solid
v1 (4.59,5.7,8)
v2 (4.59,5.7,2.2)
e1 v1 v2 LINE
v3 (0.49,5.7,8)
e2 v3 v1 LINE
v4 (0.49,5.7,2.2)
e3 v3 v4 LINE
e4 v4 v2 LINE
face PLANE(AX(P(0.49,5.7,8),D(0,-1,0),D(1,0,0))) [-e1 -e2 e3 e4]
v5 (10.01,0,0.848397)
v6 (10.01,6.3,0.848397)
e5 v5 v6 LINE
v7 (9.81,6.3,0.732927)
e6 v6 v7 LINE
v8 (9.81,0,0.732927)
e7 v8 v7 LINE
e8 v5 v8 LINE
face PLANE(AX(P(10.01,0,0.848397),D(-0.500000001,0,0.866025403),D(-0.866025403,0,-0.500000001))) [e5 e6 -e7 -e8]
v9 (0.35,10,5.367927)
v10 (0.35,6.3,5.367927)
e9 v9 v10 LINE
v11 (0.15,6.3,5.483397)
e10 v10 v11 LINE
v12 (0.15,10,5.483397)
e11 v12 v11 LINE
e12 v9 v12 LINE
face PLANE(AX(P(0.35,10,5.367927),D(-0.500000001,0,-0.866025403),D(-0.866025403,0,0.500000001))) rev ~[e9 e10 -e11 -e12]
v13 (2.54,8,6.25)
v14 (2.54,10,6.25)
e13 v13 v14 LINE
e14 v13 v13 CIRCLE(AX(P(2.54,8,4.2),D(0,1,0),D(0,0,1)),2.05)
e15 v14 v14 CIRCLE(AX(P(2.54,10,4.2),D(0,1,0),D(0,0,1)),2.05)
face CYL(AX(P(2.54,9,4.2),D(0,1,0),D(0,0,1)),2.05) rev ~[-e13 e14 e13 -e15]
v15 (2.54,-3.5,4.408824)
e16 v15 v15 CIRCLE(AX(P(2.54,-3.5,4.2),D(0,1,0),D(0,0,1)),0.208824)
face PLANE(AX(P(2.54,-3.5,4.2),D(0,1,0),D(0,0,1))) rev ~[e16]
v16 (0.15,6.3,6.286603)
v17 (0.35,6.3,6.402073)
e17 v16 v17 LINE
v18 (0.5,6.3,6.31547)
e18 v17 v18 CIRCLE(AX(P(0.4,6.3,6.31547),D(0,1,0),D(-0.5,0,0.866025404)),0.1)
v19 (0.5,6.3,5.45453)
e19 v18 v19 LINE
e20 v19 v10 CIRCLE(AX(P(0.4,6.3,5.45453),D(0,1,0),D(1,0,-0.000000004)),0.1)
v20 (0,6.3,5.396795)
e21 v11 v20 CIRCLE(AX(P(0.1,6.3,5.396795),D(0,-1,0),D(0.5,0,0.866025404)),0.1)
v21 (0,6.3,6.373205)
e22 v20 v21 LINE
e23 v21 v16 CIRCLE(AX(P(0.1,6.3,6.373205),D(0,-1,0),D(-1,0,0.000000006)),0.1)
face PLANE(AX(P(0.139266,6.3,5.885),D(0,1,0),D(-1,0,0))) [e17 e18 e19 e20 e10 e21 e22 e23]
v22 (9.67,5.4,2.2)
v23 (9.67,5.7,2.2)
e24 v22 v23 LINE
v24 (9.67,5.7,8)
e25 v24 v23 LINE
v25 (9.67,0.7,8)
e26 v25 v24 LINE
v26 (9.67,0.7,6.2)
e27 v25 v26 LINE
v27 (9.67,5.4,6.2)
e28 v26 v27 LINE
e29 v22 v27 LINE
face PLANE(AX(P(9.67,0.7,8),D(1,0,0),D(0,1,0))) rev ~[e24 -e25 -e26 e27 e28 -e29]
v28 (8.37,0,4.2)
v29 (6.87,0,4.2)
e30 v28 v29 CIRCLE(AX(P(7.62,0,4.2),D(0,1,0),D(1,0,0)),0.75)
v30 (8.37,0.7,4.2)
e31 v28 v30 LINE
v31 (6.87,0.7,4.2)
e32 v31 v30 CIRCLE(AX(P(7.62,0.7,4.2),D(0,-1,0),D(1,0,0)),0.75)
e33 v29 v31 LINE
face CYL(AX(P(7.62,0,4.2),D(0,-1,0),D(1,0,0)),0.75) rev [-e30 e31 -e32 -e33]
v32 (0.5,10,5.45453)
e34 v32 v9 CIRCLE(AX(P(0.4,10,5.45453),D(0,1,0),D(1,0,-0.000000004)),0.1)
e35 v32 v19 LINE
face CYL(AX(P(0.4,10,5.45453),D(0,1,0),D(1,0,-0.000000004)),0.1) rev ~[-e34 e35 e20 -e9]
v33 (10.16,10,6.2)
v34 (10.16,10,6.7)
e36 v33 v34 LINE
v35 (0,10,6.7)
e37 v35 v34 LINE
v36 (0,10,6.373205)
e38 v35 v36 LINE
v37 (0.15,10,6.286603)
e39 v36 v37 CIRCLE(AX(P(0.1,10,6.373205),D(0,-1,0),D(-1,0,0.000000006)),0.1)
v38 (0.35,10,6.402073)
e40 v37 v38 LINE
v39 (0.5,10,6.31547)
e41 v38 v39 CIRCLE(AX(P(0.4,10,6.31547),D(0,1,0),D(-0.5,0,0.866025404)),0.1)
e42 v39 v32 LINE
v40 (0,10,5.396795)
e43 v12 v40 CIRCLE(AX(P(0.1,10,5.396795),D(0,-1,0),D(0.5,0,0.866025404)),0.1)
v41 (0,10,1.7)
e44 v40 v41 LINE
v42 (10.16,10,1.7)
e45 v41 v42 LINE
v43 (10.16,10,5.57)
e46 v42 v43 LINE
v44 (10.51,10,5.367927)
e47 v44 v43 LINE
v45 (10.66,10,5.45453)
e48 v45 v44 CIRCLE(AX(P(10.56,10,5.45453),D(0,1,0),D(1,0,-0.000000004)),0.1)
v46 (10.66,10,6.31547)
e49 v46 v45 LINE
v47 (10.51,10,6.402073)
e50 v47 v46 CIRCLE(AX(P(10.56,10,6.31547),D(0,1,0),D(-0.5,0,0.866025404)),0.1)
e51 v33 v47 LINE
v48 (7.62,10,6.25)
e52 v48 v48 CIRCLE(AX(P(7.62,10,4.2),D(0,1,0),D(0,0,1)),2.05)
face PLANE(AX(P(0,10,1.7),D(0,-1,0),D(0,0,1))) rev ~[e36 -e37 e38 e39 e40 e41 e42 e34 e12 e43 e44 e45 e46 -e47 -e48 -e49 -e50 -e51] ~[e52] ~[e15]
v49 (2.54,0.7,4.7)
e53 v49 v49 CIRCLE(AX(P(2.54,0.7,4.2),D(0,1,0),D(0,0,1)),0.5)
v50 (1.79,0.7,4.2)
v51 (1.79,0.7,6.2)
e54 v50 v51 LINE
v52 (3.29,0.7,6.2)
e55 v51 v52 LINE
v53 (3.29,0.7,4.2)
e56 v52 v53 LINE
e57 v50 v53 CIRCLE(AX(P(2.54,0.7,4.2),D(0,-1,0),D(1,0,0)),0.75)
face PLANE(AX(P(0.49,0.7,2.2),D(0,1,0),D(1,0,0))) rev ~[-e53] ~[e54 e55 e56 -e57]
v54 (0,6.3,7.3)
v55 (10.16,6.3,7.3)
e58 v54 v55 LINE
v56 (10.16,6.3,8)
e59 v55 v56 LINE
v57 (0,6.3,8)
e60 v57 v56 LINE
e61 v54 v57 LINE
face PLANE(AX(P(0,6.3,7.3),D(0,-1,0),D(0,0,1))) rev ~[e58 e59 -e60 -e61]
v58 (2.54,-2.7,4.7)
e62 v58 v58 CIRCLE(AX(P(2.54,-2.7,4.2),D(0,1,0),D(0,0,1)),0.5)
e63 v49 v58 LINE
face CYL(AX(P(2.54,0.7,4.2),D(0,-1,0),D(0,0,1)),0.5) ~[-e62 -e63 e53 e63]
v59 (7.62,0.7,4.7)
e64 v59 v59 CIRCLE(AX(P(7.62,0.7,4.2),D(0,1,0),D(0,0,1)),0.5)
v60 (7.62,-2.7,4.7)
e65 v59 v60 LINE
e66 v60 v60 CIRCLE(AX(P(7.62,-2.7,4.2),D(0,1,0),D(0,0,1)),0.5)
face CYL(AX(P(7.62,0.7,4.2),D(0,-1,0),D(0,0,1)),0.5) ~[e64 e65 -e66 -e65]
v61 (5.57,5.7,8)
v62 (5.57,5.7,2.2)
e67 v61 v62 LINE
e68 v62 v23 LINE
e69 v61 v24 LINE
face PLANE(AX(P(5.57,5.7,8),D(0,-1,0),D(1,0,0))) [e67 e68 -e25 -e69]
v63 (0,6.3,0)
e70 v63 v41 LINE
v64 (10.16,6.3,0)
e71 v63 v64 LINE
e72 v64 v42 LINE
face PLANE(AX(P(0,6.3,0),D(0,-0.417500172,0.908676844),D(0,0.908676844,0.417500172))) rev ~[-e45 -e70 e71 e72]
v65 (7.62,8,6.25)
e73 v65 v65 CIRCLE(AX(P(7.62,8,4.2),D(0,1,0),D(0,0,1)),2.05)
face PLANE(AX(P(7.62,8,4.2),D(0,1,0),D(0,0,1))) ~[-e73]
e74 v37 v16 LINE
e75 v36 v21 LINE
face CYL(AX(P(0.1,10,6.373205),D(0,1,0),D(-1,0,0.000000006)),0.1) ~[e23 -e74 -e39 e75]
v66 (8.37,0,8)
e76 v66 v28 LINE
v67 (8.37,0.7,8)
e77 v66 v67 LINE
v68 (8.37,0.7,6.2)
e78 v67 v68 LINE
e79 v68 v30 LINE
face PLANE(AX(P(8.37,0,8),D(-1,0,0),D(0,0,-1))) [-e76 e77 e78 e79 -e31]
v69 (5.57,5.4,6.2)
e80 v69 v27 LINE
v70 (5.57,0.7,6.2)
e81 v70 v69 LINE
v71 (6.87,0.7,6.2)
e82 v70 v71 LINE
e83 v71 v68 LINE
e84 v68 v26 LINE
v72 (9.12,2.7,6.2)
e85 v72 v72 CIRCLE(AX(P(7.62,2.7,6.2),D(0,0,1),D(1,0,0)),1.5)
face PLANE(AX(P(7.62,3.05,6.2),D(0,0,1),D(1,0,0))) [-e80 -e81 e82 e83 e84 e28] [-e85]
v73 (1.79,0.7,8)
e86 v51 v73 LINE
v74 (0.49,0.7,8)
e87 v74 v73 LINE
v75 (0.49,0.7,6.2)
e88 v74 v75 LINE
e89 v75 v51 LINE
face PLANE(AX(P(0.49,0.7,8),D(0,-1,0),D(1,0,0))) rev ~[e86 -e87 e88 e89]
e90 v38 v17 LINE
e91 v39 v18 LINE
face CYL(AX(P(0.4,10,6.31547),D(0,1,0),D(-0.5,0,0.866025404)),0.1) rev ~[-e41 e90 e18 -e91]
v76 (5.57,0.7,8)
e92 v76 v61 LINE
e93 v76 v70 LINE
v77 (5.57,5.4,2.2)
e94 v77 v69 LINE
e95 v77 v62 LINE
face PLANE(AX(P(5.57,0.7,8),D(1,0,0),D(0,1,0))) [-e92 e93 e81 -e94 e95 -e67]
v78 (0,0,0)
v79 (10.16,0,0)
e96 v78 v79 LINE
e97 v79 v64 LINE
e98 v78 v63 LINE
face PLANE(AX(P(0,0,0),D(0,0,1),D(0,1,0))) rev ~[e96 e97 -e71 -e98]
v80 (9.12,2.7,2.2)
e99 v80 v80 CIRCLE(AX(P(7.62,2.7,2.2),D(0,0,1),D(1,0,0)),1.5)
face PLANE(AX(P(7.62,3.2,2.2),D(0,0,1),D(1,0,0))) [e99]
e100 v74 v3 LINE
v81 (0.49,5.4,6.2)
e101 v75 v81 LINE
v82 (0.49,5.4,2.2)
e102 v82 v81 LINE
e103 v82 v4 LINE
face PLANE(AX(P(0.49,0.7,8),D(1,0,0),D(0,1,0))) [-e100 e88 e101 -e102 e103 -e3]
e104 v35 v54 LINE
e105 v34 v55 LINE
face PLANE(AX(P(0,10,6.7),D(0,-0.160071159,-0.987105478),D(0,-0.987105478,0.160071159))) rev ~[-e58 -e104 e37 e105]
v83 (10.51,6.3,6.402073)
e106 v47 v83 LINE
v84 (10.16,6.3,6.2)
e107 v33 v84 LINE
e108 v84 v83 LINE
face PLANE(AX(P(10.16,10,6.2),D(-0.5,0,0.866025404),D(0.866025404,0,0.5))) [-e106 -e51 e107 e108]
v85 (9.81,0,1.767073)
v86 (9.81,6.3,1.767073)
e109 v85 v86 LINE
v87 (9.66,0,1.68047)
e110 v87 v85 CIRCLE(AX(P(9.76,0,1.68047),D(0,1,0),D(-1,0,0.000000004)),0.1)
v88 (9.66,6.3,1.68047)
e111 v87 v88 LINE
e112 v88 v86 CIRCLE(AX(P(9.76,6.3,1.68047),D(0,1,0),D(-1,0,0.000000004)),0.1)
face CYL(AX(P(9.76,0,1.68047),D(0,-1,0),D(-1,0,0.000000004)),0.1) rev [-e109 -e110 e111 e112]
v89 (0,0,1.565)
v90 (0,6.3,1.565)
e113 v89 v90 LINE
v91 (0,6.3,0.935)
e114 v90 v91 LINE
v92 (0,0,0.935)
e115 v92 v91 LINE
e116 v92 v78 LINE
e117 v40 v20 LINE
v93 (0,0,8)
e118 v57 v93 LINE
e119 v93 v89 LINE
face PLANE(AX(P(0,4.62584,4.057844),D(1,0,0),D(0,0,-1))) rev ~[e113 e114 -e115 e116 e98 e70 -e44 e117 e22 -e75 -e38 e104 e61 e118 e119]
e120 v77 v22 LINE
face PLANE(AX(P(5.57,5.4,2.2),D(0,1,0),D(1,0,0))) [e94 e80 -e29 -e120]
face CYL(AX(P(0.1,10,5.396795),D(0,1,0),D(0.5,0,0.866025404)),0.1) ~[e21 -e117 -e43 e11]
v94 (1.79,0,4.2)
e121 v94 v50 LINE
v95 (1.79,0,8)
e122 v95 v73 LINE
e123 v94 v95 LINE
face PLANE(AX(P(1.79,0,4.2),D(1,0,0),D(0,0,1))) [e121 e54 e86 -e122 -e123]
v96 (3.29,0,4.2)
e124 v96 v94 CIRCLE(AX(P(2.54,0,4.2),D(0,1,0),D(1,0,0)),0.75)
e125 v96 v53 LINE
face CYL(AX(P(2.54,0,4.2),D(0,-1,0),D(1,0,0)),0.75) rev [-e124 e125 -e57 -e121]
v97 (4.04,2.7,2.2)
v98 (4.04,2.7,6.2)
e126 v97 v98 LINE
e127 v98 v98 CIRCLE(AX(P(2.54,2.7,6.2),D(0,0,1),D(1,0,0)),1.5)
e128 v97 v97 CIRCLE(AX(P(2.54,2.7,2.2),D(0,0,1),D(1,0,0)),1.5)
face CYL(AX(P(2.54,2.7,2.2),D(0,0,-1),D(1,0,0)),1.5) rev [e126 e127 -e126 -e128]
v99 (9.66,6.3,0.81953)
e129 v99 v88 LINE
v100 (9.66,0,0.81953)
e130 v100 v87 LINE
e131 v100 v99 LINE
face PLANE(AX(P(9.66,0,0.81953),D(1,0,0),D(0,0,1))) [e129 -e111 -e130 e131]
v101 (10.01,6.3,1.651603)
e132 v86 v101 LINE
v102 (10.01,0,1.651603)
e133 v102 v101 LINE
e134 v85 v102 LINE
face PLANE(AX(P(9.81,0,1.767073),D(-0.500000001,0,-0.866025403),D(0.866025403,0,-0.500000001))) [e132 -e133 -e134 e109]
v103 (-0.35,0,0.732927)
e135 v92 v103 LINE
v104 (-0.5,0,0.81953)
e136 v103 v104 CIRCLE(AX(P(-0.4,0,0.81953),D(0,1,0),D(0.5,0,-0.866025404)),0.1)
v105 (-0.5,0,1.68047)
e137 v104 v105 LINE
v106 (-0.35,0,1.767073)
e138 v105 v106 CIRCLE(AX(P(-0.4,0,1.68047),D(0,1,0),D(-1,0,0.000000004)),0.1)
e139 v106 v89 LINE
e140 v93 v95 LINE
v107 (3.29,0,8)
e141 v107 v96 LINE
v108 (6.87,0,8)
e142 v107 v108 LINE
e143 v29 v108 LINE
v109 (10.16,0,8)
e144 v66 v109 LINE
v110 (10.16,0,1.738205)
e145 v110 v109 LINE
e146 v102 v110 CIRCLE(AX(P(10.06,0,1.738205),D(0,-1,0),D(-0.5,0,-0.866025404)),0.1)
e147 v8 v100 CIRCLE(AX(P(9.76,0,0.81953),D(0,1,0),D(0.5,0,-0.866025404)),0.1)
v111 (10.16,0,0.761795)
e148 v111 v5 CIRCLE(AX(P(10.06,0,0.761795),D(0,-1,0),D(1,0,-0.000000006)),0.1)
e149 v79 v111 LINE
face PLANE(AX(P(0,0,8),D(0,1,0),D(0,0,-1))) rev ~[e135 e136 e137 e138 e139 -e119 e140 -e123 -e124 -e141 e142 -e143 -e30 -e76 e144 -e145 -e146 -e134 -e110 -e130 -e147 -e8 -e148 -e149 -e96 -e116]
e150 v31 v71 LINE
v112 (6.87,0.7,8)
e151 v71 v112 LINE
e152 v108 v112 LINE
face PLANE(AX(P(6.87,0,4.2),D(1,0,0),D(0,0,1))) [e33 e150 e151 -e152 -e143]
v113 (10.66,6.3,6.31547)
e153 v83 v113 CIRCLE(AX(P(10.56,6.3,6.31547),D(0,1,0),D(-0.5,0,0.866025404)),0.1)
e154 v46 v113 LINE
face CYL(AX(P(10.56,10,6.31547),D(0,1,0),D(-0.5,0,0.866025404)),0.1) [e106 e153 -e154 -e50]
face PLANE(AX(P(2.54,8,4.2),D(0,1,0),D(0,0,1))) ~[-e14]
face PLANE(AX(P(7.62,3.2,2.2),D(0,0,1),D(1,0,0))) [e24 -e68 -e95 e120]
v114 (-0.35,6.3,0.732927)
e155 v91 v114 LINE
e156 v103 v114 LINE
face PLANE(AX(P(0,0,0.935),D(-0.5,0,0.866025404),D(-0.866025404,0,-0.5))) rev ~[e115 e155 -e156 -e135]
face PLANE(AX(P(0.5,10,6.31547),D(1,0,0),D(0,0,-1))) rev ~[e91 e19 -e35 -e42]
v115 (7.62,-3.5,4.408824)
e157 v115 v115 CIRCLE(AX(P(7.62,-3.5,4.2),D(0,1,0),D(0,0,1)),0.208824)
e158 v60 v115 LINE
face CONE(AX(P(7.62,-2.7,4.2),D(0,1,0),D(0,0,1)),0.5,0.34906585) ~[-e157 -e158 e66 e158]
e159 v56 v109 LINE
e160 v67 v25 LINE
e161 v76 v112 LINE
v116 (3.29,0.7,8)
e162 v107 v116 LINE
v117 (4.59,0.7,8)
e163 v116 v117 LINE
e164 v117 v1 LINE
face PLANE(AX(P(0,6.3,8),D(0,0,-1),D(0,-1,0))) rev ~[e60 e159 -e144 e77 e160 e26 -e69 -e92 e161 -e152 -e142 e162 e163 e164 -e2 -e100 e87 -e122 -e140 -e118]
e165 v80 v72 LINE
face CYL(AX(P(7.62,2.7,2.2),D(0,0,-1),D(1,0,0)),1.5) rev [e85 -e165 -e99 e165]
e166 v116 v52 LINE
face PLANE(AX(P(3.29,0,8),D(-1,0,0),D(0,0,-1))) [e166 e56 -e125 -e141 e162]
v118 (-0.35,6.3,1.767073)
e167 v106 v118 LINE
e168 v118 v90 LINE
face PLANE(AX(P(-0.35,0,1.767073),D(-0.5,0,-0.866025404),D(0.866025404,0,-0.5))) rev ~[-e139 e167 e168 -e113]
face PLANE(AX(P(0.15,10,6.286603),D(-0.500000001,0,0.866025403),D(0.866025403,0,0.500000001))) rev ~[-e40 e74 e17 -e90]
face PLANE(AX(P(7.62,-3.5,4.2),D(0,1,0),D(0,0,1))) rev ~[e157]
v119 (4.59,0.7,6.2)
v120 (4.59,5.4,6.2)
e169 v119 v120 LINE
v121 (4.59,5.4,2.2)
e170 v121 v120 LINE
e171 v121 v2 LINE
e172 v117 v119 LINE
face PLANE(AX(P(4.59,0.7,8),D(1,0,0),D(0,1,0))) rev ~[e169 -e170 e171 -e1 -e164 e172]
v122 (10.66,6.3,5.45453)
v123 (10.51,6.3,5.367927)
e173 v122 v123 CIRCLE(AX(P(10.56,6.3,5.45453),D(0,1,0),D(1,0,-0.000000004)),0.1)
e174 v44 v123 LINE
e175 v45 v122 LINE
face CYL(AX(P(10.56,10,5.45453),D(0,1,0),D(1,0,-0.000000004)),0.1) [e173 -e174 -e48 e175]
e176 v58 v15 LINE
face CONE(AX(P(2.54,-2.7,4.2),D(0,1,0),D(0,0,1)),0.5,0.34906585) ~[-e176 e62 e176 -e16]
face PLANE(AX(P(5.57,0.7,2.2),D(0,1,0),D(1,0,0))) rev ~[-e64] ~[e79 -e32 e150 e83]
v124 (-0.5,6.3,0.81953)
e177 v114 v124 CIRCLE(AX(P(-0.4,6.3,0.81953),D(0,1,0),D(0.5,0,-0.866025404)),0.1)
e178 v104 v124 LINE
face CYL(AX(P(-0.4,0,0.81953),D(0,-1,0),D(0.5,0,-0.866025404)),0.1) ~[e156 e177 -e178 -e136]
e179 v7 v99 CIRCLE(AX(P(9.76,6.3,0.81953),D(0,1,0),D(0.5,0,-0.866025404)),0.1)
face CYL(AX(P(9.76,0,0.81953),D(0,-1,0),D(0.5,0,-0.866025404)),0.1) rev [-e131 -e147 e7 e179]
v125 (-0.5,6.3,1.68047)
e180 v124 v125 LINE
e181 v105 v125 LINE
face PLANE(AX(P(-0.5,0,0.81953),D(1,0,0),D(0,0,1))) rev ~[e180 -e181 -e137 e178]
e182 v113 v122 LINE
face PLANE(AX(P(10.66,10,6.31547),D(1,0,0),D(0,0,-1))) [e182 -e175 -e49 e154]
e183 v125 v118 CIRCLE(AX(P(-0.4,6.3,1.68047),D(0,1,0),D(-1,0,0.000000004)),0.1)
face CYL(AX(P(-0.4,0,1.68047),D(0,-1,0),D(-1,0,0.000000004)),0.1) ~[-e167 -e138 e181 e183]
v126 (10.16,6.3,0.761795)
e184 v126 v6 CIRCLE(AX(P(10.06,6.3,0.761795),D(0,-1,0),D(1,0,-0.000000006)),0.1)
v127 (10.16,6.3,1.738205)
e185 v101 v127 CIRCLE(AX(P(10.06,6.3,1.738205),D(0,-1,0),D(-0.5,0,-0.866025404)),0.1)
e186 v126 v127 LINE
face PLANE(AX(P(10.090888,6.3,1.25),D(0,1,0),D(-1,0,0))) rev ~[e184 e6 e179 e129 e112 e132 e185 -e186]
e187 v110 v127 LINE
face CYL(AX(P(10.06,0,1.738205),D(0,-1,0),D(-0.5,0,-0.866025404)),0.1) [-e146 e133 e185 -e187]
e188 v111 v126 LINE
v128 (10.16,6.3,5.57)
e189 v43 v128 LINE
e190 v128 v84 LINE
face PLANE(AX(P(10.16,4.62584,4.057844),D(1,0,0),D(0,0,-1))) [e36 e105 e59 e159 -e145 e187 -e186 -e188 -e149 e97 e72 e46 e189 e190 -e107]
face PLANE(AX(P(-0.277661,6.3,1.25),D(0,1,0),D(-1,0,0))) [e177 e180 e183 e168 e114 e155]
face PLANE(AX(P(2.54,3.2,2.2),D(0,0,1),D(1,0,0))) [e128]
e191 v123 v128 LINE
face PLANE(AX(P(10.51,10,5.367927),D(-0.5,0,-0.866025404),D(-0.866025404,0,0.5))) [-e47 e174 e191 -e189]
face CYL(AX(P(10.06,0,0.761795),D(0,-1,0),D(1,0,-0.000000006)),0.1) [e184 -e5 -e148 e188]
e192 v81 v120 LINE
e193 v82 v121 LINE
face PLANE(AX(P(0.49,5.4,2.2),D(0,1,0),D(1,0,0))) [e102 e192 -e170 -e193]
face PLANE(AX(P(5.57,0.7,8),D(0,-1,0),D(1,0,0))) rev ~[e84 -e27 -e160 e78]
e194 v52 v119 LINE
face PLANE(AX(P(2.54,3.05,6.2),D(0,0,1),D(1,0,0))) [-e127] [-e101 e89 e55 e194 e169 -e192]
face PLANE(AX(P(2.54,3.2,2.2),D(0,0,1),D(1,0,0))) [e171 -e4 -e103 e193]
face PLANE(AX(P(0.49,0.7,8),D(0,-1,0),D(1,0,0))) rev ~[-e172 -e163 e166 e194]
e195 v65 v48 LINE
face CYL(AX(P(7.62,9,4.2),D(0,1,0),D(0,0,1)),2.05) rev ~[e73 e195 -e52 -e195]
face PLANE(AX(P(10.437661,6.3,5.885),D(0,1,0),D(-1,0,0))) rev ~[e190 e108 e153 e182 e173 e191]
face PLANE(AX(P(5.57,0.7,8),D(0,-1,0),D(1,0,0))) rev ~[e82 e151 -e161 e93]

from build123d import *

# Parameters (mm, degrees)
BOSS_EXTRUDE1_DEPTH      = 10.16
SKETCH2_W                = 4.1
SKETCH2_H                = 5
CUT_EXTRUDE1_DEPTH       = 5.8
SKETCH3_W                = 4.1
SKETCH3_H                = 5
CUT_EXTRUDE2_DEPTH       = 5.8
CUT_EXTRUDE3_DEPTH       = 1
CUT_EXTRUDE4_DEPTH       = 1
BOSS_EXTRUDE2_DEPTH      = 2
BOSS_EXTRUDE2_DEPTH_BACK = 2
SKETCH6_W                = 4.1
SKETCH6_H                = 4.7
SKETCH6_R                = 1.5
BOSS_EXTRUDE3_DEPTH      = 2
BOSS_EXTRUDE3_DEPTH_BACK = 2
SKETCH7_W                = 4.1
SKETCH7_H                = 4.7
SKETCH7_R                = 1.5
SKETCH10_W               = 2.05
SKETCH10_H               = 2
SKETCH11_W               = 2.05
SKETCH11_H               = 2
BOSS_EXTRUDE4_DEPTH      = 6.3
CUT_EXTRUDE5_DEPTH       = 6.3
CUT_EXTRUDE6_DEPTH       = 3.7
BOSS_EXTRUDE5_DEPTH      = 3.7


with BuildPart() as part:
    # Sketch1 → Boss-Extrude1 (new body)
    with BuildSketch(Plane(origin=(0, 0, 0), x_dir=(0, 0, -1), z_dir=(1, 0, 0))):
        Polygon((-8, 0), (0, 0), (0, 6.3), (-1.7, 10), (-6.7, 10), (-7.3, 6.3), (-8, 6.3), align=None)
    extrude(amount=BOSS_EXTRUDE1_DEPTH)

    # Sketch2 → Cut-Extrude1 (cut)
    with BuildSketch(Plane.XY.offset(8)):
        with Locations((2.54, 3.2)):
            Rectangle(SKETCH2_W, SKETCH2_H)
    extrude(amount=-CUT_EXTRUDE1_DEPTH, mode=Mode.SUBTRACT)

    # Sketch3 → Cut-Extrude2 (cut)
    with BuildSketch(Plane.XY.offset(8)):
        with Locations((7.62, 3.2)):
            Rectangle(SKETCH3_W, SKETCH3_H)
    extrude(amount=-CUT_EXTRUDE2_DEPTH, mode=Mode.SUBTRACT)

    # Sketch4 → Cut-Extrude3 (cut)
    with BuildSketch(Plane(origin=(0, 0, 0), x_dir=(-1, 0, 0), z_dir=(0, 1, 0))):
        with BuildLine():
            Line((-1.79, 4.2), (-1.79, 8))
            Line((-1.79, 8), (-3.29, 8))
            Line((-3.29, 8), (-3.29, 4.2))
            ThreePointArc((-3.29, 4.2), (-2.54, 3.45), (-1.79, 4.2))
        make_face()
    extrude(amount=CUT_EXTRUDE3_DEPTH, mode=Mode.SUBTRACT)

    # Sketch5 → Cut-Extrude4 (cut)
    with BuildSketch(Plane(origin=(0, 0, 0), x_dir=(-1, 0, 0), z_dir=(0, 1, 0))):
        with BuildLine():
            Line((-6.87, 4.2), (-6.87, 8))
            Line((-6.87, 8), (-8.37, 8))
            Line((-8.37, 8), (-8.37, 4.2))
            ThreePointArc((-8.37, 4.2), (-7.62, 3.45), (-6.87, 4.2))
        make_face()
    extrude(amount=CUT_EXTRUDE4_DEPTH, mode=Mode.SUBTRACT)

    # Sketch6 → Boss-Extrude2 (add, two sides: drawn at the far end of the back side and taken through both)
    with BuildSketch(Plane.XY.offset(4.2).offset(-BOSS_EXTRUDE2_DEPTH_BACK)):
        with Locations((2.54, 3.05)):
            Rectangle(SKETCH6_W, SKETCH6_H)
        with Locations((2.54, 2.7)):
            Circle(SKETCH6_R, mode=Mode.SUBTRACT)
    extrude(amount=BOSS_EXTRUDE2_DEPTH + BOSS_EXTRUDE2_DEPTH_BACK)

    # Sketch7 → Boss-Extrude3 (add, two sides: drawn at the far end of the back side and taken through both)
    with BuildSketch(Plane.XY.offset(4.2).offset(-BOSS_EXTRUDE3_DEPTH_BACK)):
        with Locations((7.62, 3.05)):
            Rectangle(SKETCH7_W, SKETCH7_H)
        with Locations((7.62, 2.7)):
            Circle(SKETCH7_R, mode=Mode.SUBTRACT)
    extrude(amount=BOSS_EXTRUDE3_DEPTH + BOSS_EXTRUDE3_DEPTH_BACK)

    # Sketch8 → Revolve1 (revolve)
    with BuildSketch(Plane.XY.offset(4.2), mode=Mode.PRIVATE) as revolve1_sk:
        Polygon((2.54, 0.7), (3.04, 0.7), (3.04, -2.7), (2.748823813, -3.5), (2.54, -3.5), align=None)
    revolve(revolve1_sk.sketch.rotate(Axis((2.54, -3.5, 4.2), (0, 1, 0)), 270), axis=Axis((2.54, -3.5, 4.2), (0, 1, 0)))

    # Sketch9 → Revolve2 (revolve)
    with BuildSketch(Plane.XY.offset(4.2), mode=Mode.PRIVATE) as revolve2_sk:
        Polygon((7.62, 0.7), (8.12, 0.7), (8.12, -2.7), (7.828823813, -3.5), (7.62, -3.5), align=None)
    revolve(revolve2_sk.sketch.rotate(Axis((7.62, -3.5, 4.2), (0, 1, 0)), 270), axis=Axis((7.62, -3.5, 4.2), (0, 1, 0)))

    # Sketch10 → Cut-Revolve1 (revolve, cut)
    with BuildSketch(Plane.XY.offset(4.2), mode=Mode.PRIVATE) as cut_revolve1_sk:
        with Locations((3.565, 9)):
            Rectangle(SKETCH10_W, SKETCH10_H)
    revolve(cut_revolve1_sk.sketch.rotate(Axis((2.54, 8, 4.2), (0, 1, 0)), 270), axis=Axis((2.54, 8, 4.2), (0, 1, 0)), mode=Mode.SUBTRACT)

    # Sketch11 → Cut-Revolve2 (revolve, cut)
    with BuildSketch(Plane.XY.offset(4.2), mode=Mode.PRIVATE) as cut_revolve2_sk:
        with Locations((8.645, 9)):
            Rectangle(SKETCH11_W, SKETCH11_H)
    revolve(cut_revolve2_sk.sketch.rotate(Axis((7.62, 8, 4.2), (0, 1, 0)), 270), axis=Axis((7.62, 8, 4.2), (0, 1, 0)), mode=Mode.SUBTRACT)

    # Sketch12 → Boss-Extrude4 (add)
    with BuildSketch(Plane(origin=(0, 0, 0), x_dir=(-1, 0, 0), z_dir=(0, 1, 0))):
        with BuildLine():
            Line((0.35, 1.767072594), (0, 1.565))
            Line((0, 1.565), (0, 0.935))
            Line((0, 0.935), (0.35, 0.732927406))
            ThreePointArc((0.35, 0.732927406), (0.45, 0.732927406), (0.5, 0.819529946))
            Line((0.5, 0.819529946), (0.5, 1.680470054))
            ThreePointArc((0.5, 1.680470054), (0.45, 1.767072594), (0.35, 1.767072594))
        make_face()
    extrude(amount=BOSS_EXTRUDE4_DEPTH)

    # Sketch13 → Cut-Extrude5 (cut)
    with BuildSketch(Plane(origin=(0, 0, 0), x_dir=(-1, 0, 0), z_dir=(0, 1, 0))):
        with BuildLine():
            Line((-9.81, 1.767072594), (-10.01, 1.65160254))
            ThreePointArc((-10.01, 1.65160254), (-10.11, 1.65160254), (-10.16, 1.738205081))
            Line((-10.16, 1.738205081), (-10.16, 1.865))
            Line((-10.16, 1.865), (-10.46, 1.865))
            Line((-10.46, 1.865), (-10.46, 0.635))
            Line((-10.46, 0.635), (-10.16, 0.635))
            Line((-10.16, 0.635), (-10.16, 0.761794919))
            ThreePointArc((-10.16, 0.761794919), (-10.11, 0.84839746), (-10.01, 0.84839746))
            Line((-10.01, 0.84839746), (-9.81, 0.732927406))
            ThreePointArc((-9.81, 0.732927406), (-9.71, 0.732927406), (-9.66, 0.819529946))
            Line((-9.66, 0.819529946), (-9.66, 1.680470054))
            ThreePointArc((-9.66, 1.680470054), (-9.71, 1.767072594), (-9.81, 1.767072594))
        make_face()
    extrude(amount=CUT_EXTRUDE5_DEPTH, mode=Mode.SUBTRACT)

    # Sketch14 → Cut-Extrude6 (cut)
    with BuildSketch(Plane(origin=(0, 10, 0), x_dir=(-1, 0, 0), z_dir=(0, 1, 0))):
        with BuildLine():
            Line((0.2, 6.4), (0, 6.4))
            Line((0, 6.4), (0, 6.373205081))
            ThreePointArc((0, 6.373205081), (-0.05, 6.28660254), (-0.15, 6.28660254))
            Line((-0.15, 6.28660254), (-0.35, 6.402072594))
            ThreePointArc((-0.35, 6.402072594), (-0.45, 6.402072594), (-0.5, 6.315470054))
            Line((-0.5, 6.315470054), (-0.5, 5.454529946))
            ThreePointArc((-0.5, 5.454529946), (-0.45, 5.367927406), (-0.35, 5.367927406))
            Line((-0.35, 5.367927406), (-0.15, 5.48339746))
            ThreePointArc((-0.15, 5.48339746), (-0.05, 5.48339746), (0, 5.396794919))
            Line((0, 5.396794919), (0, 5.37))
            Line((0, 5.37), (0.2, 5.37))
            Line((0.2, 5.37), (0.2, 6.4))
        make_face()
    extrude(amount=-CUT_EXTRUDE6_DEPTH, mode=Mode.SUBTRACT)

    # Sketch15 → Boss-Extrude5 (add)
    with BuildSketch(Plane(origin=(0, 10, 0), x_dir=(-1, 0, 0), z_dir=(0, 1, 0))):
        with BuildLine():
            Line((-10.16, 6.2), (-10.51, 6.402072594))
            ThreePointArc((-10.51, 6.402072594), (-10.61, 6.402072594), (-10.66, 6.315470054))
            Line((-10.66, 6.315470054), (-10.66, 5.454529946))
            ThreePointArc((-10.66, 5.454529946), (-10.61, 5.367927406), (-10.51, 5.367927406))
            Line((-10.51, 5.367927406), (-10.16, 5.57))
            Line((-10.16, 5.57), (-10.16, 6.2))
        make_face()
    extrude(amount=-BOSS_EXTRUDE5_DEPTH)


solid = part.part
